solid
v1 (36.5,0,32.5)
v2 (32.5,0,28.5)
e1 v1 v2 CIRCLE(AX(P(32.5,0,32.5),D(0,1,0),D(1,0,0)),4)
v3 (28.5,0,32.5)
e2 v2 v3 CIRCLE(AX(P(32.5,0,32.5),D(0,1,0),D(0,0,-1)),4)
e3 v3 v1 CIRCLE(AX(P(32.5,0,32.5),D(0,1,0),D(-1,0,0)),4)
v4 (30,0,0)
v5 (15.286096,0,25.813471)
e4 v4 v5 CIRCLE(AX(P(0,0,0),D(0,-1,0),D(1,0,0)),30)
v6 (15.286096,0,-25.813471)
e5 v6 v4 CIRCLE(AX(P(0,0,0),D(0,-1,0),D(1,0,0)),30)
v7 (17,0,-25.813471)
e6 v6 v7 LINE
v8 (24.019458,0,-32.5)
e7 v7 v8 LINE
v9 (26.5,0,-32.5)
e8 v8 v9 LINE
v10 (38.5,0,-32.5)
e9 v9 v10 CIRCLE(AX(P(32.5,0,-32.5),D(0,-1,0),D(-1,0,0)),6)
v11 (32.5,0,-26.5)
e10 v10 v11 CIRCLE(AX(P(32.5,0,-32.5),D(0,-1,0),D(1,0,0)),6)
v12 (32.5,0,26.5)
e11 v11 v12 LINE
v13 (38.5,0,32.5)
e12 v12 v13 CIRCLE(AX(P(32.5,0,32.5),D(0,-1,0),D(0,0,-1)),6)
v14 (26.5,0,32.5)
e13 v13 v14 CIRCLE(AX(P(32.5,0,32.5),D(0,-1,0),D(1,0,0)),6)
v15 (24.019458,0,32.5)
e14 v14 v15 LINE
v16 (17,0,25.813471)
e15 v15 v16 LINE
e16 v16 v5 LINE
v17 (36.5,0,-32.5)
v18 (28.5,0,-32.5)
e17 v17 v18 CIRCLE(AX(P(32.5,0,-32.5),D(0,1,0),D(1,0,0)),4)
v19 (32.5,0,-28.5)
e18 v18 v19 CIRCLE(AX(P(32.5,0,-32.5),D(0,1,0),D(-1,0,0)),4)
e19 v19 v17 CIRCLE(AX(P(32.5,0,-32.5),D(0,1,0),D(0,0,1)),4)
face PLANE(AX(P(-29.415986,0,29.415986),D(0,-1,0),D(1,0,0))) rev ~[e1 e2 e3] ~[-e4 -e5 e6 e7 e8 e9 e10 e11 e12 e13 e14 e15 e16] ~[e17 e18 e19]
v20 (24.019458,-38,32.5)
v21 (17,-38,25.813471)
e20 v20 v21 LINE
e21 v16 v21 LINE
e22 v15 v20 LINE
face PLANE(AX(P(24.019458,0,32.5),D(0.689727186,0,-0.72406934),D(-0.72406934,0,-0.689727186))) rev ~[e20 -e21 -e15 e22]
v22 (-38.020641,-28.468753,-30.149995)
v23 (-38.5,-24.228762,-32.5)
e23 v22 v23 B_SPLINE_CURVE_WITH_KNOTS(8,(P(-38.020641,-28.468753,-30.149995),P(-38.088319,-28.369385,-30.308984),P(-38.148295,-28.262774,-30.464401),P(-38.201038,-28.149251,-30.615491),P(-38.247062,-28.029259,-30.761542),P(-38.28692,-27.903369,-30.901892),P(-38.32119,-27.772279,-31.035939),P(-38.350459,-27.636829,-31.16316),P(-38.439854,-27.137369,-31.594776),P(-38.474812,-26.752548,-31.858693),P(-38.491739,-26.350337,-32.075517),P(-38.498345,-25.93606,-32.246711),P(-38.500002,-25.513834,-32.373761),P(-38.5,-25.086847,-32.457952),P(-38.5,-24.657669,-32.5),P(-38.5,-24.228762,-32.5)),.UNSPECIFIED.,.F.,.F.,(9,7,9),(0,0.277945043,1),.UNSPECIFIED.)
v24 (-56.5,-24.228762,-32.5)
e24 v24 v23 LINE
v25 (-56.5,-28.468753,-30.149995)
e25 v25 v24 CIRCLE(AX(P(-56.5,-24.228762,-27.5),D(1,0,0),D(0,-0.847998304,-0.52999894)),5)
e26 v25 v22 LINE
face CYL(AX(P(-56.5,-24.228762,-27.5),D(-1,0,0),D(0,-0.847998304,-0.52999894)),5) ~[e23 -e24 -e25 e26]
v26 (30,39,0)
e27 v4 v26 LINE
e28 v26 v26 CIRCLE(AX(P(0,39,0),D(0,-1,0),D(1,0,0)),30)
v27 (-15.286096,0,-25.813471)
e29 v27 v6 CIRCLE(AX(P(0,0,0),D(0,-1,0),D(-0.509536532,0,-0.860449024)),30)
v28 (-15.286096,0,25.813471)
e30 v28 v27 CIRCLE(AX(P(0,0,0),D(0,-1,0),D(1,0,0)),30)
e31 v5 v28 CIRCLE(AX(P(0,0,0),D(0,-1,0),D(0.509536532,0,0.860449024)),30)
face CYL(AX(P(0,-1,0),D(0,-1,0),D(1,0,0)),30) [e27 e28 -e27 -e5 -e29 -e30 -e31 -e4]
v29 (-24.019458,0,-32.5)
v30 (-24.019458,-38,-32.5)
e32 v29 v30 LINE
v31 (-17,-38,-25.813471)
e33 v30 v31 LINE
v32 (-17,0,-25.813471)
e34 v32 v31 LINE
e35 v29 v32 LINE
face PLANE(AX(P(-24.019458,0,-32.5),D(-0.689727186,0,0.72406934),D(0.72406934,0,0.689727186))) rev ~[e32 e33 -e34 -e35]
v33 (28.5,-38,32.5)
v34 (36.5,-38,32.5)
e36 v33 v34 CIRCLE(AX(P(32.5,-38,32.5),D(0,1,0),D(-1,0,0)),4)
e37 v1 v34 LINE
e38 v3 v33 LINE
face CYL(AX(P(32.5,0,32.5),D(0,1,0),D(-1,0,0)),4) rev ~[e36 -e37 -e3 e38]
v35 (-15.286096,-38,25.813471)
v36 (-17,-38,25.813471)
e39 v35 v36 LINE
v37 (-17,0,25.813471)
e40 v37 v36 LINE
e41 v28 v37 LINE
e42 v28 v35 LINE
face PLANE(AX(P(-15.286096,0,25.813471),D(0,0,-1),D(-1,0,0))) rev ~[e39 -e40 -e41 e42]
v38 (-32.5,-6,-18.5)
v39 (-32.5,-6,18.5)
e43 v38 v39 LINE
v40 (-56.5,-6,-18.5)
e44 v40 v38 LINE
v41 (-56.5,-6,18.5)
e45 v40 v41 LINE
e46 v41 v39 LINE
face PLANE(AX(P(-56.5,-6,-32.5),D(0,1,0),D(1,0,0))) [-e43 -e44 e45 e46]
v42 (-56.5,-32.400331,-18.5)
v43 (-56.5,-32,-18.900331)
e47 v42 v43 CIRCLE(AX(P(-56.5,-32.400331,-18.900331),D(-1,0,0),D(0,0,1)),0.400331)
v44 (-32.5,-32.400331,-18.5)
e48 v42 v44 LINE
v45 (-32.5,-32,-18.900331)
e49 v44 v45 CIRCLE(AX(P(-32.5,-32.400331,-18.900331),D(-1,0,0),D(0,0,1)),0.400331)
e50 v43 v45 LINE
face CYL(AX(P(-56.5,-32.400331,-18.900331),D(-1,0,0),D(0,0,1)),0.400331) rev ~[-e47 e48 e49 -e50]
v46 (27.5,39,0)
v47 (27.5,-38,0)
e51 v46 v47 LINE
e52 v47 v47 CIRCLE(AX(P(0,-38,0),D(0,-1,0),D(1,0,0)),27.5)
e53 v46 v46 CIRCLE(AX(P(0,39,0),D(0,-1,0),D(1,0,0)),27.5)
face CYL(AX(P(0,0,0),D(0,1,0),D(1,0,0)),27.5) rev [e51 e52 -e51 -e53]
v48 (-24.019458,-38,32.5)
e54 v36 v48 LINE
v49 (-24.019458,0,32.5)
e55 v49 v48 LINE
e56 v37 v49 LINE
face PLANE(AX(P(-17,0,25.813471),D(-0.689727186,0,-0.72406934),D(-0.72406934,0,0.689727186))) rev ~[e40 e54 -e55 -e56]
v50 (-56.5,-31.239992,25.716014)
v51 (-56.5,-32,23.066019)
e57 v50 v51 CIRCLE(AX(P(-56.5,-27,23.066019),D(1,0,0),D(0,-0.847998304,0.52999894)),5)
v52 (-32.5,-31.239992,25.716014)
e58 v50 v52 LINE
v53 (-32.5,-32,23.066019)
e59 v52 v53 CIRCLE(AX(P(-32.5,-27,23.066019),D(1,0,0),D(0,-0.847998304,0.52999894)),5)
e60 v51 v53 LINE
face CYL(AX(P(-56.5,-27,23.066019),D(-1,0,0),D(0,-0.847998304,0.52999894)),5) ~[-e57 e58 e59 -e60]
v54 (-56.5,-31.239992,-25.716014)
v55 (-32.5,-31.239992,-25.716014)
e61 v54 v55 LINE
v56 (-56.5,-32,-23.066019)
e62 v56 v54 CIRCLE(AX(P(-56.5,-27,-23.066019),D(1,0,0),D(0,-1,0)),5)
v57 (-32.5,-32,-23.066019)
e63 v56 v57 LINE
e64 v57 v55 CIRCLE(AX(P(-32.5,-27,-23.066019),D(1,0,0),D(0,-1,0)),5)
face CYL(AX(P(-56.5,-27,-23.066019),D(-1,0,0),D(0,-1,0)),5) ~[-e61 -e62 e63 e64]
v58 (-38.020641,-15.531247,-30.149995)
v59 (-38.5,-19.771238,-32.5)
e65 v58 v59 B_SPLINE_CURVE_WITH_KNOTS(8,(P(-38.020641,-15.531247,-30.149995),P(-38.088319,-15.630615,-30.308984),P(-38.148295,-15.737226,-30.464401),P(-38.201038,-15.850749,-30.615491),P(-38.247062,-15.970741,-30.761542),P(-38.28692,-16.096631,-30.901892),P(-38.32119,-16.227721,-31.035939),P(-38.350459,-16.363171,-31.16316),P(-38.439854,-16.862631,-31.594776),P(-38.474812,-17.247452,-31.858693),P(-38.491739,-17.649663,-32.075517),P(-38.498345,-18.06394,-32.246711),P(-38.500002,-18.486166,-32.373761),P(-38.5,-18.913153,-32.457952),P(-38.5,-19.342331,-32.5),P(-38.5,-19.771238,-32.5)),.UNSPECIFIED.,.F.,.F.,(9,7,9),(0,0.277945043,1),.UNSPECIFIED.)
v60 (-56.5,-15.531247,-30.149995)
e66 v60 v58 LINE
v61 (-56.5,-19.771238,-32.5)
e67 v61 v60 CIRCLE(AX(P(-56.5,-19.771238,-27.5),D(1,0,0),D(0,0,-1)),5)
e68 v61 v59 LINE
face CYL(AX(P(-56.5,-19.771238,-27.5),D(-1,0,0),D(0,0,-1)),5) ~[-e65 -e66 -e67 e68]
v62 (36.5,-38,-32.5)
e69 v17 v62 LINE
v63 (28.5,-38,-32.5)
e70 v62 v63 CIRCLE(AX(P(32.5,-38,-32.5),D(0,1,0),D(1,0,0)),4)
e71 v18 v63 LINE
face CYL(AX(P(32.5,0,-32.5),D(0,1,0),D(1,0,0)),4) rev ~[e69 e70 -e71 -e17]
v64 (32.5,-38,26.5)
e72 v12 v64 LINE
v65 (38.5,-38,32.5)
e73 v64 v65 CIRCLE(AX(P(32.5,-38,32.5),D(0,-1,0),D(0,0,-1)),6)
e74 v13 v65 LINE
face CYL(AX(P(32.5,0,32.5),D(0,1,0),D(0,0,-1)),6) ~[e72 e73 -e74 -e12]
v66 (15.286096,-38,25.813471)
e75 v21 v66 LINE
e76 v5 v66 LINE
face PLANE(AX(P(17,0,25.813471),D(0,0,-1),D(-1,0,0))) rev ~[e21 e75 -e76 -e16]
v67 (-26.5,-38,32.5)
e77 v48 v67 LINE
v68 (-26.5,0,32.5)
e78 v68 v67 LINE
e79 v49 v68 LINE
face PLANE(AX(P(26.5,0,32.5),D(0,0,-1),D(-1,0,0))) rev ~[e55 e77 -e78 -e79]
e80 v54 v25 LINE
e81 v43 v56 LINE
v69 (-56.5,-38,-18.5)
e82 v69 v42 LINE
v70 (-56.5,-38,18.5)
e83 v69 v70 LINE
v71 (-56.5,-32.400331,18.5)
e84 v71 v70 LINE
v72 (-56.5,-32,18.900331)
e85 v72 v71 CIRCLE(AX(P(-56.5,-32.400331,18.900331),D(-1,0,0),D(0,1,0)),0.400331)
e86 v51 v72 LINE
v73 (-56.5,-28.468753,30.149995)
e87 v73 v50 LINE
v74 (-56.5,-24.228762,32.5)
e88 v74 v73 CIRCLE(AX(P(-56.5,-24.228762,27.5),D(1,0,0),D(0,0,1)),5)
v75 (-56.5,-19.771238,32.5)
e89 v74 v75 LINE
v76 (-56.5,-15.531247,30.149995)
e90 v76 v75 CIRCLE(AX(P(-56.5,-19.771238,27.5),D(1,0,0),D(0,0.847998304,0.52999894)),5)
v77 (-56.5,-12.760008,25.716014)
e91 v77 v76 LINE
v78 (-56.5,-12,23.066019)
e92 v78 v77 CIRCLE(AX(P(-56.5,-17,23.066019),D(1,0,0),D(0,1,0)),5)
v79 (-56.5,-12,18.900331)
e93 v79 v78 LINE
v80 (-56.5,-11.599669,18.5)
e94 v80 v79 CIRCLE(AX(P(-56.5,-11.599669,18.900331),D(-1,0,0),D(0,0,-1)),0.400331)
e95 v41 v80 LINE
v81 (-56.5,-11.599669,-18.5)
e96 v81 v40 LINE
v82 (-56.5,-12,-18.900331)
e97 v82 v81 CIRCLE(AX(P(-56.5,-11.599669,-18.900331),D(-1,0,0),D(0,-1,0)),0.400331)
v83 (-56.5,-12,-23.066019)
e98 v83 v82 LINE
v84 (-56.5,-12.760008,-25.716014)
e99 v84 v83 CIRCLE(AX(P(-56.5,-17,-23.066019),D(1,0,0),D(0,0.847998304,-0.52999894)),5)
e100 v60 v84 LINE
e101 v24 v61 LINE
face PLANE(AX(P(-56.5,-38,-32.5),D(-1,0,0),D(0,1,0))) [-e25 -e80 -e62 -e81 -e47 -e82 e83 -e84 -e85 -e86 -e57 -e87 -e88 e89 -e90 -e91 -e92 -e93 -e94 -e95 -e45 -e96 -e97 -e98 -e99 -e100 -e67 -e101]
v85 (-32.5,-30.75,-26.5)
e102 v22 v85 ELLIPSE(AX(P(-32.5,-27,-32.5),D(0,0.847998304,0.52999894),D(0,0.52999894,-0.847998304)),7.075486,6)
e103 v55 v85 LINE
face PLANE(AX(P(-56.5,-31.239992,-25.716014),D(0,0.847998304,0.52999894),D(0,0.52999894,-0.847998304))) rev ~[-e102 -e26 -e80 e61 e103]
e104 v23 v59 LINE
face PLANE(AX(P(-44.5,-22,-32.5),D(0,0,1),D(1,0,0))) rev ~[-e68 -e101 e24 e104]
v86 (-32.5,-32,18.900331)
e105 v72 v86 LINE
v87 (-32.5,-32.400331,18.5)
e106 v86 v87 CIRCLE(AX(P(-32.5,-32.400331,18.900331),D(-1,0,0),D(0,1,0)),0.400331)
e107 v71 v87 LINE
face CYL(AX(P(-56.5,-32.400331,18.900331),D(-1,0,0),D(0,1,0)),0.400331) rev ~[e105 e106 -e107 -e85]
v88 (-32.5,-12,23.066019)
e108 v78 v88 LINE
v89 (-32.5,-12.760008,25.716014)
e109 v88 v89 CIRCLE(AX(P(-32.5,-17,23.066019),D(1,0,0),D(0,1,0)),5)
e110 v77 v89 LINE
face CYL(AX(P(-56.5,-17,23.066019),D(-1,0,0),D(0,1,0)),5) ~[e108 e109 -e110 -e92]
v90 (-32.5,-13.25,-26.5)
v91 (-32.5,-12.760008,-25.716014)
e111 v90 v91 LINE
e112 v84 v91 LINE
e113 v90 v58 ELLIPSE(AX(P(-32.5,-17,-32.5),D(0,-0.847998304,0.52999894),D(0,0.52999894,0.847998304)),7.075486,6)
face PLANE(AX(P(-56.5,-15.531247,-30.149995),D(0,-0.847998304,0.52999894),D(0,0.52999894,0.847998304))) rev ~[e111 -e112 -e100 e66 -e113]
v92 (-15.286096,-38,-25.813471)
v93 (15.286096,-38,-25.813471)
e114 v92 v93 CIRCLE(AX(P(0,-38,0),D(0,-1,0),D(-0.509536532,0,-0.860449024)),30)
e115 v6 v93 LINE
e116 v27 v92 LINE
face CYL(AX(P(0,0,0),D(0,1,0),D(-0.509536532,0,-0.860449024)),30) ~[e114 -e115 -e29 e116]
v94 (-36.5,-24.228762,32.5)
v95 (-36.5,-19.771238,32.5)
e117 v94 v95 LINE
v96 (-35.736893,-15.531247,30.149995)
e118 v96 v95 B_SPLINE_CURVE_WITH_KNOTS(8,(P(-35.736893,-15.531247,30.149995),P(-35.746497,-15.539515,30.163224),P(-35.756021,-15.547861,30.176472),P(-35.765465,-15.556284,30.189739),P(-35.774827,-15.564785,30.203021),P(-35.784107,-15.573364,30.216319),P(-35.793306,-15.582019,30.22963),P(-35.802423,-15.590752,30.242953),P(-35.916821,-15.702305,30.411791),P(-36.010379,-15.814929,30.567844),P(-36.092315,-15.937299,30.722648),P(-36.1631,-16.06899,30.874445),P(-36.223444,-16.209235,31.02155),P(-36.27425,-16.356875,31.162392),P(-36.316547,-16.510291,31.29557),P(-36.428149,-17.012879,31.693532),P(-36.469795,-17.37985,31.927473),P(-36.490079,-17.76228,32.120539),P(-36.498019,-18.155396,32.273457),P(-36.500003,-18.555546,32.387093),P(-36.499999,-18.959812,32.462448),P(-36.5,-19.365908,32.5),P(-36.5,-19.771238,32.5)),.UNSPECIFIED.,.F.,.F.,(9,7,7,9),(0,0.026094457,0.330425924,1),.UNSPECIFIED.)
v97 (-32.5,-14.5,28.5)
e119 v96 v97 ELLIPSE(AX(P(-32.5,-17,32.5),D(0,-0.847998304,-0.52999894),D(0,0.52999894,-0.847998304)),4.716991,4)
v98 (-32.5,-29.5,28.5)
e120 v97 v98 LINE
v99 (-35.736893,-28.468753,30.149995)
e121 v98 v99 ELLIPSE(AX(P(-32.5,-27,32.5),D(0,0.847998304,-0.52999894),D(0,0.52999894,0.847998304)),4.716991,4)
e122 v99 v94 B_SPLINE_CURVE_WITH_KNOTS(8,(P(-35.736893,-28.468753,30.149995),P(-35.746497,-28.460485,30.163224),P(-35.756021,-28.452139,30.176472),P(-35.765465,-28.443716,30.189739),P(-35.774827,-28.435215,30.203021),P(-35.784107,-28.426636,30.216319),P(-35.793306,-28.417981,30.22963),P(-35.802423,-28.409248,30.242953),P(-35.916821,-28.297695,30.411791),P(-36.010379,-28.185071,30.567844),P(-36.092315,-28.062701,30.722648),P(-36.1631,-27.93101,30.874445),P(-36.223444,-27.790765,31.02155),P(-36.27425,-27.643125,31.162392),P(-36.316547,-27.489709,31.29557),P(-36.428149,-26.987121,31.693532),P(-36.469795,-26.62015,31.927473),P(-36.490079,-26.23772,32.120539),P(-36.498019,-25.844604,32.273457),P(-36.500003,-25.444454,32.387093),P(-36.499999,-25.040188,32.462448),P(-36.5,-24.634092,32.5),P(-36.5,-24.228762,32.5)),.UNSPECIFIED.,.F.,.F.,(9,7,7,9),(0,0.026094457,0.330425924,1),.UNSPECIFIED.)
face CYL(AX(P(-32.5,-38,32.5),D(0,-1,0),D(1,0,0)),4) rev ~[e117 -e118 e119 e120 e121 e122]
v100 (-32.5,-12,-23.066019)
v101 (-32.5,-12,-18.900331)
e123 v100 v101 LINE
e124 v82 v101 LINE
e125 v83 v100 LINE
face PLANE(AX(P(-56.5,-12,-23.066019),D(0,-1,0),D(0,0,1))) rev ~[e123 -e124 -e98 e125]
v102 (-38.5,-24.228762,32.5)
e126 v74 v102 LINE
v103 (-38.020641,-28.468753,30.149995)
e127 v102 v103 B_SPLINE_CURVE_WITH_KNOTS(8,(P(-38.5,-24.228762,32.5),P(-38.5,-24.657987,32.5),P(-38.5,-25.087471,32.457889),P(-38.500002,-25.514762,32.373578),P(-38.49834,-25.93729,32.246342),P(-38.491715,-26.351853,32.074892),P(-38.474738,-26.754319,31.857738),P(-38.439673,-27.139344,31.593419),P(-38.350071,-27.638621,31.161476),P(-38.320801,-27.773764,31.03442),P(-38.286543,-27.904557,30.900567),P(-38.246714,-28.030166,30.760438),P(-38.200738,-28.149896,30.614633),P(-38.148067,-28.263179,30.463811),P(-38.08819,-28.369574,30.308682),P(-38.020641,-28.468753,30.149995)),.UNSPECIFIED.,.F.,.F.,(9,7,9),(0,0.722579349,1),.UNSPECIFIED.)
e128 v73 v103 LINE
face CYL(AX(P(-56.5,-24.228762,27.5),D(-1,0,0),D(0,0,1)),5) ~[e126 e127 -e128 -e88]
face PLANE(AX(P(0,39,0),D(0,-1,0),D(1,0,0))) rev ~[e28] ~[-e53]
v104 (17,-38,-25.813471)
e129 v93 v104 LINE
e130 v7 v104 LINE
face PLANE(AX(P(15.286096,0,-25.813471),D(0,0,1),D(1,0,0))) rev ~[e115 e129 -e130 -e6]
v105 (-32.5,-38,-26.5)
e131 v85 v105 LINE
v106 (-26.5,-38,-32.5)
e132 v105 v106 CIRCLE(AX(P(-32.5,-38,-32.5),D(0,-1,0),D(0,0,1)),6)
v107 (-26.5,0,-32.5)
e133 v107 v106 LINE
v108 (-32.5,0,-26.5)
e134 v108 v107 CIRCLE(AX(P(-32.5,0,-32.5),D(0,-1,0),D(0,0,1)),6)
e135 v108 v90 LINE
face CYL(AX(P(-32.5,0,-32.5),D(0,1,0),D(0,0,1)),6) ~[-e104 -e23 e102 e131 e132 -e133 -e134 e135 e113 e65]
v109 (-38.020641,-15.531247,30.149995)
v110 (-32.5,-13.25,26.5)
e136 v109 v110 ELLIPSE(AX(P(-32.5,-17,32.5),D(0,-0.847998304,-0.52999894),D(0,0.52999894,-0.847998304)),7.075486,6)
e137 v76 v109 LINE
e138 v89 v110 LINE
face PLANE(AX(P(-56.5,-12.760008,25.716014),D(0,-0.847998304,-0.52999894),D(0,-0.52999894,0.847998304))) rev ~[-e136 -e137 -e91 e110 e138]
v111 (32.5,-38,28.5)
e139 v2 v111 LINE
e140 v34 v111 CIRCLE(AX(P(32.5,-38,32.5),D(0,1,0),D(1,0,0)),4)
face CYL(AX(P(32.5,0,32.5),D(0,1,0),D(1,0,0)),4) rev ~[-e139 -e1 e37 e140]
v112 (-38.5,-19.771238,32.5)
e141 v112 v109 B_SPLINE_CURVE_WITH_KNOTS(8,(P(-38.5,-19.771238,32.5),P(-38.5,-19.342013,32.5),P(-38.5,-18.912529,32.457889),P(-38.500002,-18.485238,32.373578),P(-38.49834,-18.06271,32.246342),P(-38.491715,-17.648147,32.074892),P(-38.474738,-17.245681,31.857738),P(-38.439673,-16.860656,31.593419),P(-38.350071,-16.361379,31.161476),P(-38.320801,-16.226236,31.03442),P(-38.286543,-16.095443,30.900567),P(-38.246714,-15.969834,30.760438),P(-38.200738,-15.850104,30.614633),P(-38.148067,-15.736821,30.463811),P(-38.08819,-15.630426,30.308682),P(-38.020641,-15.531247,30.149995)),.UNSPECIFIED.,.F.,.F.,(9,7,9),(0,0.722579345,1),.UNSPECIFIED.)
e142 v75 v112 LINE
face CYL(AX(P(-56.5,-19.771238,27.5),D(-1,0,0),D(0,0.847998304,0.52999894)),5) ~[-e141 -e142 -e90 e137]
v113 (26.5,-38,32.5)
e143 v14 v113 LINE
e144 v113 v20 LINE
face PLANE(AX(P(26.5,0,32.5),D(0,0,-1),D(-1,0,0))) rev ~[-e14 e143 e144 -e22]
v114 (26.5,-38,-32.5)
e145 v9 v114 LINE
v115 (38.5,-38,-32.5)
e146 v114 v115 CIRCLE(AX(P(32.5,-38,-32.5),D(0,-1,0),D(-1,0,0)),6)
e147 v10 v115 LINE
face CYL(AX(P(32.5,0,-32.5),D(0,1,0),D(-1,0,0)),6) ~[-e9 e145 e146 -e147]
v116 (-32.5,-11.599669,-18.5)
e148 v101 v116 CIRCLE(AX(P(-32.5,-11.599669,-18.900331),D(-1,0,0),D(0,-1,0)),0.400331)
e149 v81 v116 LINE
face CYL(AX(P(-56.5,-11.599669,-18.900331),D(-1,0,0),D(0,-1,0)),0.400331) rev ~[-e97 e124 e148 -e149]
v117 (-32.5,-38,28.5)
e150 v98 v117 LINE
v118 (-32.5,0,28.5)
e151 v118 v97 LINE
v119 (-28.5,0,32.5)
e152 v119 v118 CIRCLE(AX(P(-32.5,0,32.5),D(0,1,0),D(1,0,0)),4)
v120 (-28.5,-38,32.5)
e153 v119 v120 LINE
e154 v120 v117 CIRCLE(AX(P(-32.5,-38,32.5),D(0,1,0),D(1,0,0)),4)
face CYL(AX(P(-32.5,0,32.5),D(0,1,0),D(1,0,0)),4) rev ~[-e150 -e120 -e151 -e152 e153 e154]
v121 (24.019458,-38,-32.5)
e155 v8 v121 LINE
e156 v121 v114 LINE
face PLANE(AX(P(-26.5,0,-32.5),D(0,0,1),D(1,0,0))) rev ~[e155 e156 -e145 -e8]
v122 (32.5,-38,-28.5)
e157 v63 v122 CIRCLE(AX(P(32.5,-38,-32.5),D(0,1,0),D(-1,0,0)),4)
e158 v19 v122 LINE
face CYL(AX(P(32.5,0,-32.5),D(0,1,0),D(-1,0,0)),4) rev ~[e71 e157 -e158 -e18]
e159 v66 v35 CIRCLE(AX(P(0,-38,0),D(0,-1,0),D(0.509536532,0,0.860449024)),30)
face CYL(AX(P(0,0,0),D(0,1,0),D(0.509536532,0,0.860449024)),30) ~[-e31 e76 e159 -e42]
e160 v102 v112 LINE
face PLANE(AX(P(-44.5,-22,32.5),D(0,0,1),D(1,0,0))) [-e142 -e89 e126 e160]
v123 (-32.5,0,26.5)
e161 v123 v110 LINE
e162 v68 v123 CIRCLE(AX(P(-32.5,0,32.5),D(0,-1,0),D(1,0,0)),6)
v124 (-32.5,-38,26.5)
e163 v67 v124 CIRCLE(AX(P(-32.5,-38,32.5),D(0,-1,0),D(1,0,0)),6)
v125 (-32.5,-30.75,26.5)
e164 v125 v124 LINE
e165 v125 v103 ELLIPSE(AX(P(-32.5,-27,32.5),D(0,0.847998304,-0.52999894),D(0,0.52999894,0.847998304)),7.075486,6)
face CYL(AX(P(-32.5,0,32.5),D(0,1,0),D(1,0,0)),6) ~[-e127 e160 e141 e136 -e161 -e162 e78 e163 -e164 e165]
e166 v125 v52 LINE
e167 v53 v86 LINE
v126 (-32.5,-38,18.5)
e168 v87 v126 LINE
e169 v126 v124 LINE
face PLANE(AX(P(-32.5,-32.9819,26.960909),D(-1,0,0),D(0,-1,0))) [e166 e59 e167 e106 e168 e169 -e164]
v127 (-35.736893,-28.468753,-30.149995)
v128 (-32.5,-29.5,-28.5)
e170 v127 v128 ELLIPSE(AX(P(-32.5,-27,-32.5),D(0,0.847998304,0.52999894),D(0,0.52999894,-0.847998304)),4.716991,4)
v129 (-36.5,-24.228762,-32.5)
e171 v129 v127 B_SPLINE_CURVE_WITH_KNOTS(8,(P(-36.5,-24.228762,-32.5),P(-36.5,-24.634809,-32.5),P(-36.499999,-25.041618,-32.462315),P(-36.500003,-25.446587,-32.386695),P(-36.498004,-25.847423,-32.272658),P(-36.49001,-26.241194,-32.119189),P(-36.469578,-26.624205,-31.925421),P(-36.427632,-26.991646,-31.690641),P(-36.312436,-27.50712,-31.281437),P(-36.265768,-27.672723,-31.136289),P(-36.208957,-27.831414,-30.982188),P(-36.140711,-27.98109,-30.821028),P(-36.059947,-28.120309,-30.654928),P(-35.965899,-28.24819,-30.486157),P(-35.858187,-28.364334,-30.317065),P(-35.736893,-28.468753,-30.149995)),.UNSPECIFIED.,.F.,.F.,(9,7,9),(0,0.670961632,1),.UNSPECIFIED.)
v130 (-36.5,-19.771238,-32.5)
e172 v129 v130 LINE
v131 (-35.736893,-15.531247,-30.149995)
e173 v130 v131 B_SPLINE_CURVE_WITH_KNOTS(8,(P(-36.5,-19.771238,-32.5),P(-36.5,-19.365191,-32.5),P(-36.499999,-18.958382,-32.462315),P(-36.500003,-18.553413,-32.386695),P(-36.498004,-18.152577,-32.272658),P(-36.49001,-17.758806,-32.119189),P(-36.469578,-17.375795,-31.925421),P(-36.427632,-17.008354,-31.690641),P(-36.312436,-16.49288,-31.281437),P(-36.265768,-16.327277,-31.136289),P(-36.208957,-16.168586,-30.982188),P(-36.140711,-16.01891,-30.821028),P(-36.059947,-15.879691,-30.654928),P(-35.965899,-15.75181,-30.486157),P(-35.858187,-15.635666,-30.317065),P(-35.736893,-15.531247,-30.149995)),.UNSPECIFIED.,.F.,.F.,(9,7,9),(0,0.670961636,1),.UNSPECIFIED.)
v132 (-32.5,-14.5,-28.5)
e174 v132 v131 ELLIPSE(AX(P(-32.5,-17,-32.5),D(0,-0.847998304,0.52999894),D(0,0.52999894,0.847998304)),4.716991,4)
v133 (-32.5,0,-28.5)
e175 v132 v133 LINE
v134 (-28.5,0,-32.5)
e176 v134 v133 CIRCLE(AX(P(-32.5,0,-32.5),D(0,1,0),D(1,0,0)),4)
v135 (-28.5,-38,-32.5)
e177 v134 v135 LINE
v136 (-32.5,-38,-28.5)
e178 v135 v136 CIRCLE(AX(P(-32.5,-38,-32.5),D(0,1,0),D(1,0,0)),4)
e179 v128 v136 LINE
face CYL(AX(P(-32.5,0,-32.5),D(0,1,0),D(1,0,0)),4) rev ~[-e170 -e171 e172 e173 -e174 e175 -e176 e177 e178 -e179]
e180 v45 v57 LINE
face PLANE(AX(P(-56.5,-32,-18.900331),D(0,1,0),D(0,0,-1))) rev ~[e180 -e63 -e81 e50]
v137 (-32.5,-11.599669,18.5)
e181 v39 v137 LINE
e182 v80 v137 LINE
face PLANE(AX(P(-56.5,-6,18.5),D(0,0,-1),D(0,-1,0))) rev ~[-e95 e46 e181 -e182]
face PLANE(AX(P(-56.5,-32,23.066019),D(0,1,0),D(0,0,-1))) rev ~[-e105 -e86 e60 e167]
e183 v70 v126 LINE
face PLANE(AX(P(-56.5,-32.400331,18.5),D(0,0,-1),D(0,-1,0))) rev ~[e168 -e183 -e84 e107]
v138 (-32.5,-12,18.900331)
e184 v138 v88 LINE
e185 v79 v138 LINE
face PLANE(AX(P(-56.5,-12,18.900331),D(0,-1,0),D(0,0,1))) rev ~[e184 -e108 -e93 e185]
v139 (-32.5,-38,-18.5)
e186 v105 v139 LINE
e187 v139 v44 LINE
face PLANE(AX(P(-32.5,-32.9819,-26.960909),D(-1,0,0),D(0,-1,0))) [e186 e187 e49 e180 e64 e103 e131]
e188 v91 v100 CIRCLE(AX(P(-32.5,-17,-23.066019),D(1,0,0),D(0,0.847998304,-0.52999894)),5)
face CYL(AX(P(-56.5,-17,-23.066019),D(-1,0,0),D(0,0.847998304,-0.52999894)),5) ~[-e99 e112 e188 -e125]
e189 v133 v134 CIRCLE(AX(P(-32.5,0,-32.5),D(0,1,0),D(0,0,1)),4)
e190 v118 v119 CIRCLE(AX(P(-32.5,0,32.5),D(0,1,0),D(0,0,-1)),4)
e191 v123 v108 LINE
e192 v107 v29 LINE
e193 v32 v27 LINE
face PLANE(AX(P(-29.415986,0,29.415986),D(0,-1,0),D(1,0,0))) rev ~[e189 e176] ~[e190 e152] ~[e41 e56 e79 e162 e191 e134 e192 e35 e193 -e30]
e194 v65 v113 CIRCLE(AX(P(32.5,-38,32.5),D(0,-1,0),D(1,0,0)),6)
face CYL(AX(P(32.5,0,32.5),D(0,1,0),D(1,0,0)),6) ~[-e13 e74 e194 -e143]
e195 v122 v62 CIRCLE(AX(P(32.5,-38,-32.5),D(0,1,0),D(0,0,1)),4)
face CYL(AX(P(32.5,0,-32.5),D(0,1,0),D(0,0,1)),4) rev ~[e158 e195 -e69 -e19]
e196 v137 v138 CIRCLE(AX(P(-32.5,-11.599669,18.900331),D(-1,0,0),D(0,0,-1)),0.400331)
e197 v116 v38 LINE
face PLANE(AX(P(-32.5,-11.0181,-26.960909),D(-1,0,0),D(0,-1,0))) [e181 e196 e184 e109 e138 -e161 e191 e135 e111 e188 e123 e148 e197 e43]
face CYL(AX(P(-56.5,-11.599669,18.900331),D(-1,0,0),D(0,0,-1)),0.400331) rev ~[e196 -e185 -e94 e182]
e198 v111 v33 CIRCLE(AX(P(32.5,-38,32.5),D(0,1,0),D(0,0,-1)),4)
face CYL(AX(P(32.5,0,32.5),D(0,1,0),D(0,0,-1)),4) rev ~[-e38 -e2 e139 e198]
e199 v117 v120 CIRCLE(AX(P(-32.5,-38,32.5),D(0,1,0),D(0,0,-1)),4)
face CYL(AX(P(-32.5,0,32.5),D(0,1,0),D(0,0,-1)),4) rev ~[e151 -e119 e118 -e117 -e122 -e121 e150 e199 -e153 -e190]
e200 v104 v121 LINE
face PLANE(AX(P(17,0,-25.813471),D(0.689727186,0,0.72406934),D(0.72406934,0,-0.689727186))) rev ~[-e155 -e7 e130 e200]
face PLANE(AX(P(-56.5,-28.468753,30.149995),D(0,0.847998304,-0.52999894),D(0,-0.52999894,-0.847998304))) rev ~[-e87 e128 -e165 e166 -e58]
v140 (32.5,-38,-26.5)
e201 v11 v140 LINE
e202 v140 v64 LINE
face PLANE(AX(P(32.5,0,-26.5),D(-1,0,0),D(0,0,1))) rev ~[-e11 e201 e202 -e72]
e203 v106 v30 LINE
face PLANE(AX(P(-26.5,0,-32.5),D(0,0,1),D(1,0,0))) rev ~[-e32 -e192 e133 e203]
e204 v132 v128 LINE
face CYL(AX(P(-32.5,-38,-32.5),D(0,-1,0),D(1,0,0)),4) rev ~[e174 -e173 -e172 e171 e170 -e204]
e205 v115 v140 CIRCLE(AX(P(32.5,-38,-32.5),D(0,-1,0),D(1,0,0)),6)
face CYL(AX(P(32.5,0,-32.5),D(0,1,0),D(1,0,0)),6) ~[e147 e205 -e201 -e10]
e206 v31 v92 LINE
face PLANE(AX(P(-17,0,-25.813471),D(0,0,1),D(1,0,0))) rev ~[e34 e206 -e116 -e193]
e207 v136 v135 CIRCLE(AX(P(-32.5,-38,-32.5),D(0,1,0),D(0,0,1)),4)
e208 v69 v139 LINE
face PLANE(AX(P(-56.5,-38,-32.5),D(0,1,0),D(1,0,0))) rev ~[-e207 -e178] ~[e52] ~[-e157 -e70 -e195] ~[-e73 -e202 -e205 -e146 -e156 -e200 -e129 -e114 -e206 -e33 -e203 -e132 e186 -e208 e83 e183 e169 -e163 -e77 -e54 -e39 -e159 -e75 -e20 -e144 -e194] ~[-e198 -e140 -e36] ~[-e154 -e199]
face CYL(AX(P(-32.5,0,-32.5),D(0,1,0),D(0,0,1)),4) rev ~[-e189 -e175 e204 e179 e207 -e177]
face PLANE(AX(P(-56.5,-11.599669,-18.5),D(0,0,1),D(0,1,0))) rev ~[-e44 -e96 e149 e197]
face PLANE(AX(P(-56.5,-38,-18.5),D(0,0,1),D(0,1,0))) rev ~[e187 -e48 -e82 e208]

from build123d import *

# Parameters (mm, degrees)
F0_R      = 30
F0_R_2    = 27.5
F1_DEPTH  = 38
F3_R      = 30
F3_R_2    = 27.5
F4_DEPTH  = 40
F6_W      = 24
F6_H      = 32
F7_DEPTH  = 65
F9_DEPTH  = 24
F10_DEPTH = 38
F12_DEPTH = 38
F13_R     = 4
F14_DEPTH = 38


with BuildPart() as f1:
    # F0 (on Front) → F1 (new body)
    with BuildSketch(Plane.XZ):
        with BuildLine():
            ThreePointArc((-32.5, 26.5), (-28.2573593129, 28.2573593129), (-26.5, 32.5))
            Line((-26.5, 32.5), (-28.5, 32.5))
            ThreePointArc((-28.5, 32.5), (-29.6715728753, 29.6715728753), (-32.5, 28.5))
            Line((-32.5, 28.5), (-32.5, 26.5))
        make_face()
        with BuildLine():
            Line((-28.5, 32.5), (-26.5, 32.5))
            ThreePointArc((-26.5, 32.5), (-36.7426406871, 36.7426406871), (-32.5, 26.5))
            Line((-32.5, 26.5), (-32.5, 28.5))
            ThreePointArc((-32.5, 28.5), (-35.3284271247, 35.3284271247), (-28.5, 32.5))
        make_face()
        with BuildLine():
            Line((26.5, 32.5), (-26.5, 32.5))
            ThreePointArc((-26.5, 32.5), (-28.2573593129, 28.2573593129), (-32.5, 26.5))
            Line((-32.5, 26.5), (-32.5, -26.5))
            ThreePointArc((-32.5, -26.5), (-28.2573593129, -28.2573593129), (-26.5, -32.5))
            Line((-26.5, -32.5), (26.5, -32.5))
            ThreePointArc((26.5, -32.5), (28.2573593129, -28.2573593129), (32.5, -26.5))
            Line((32.5, -26.5), (32.5, 26.5))
            ThreePointArc((32.5, 26.5), (28.2573593129, 28.2573593129), (26.5, 32.5))
        make_face()
        Circle(F0_R, mode=Mode.SUBTRACT)
        with BuildLine():
            ThreePointArc((38.5, 32.5), (32.5, 38.5), (26.5, 32.5))
            Line((26.5, 32.5), (28.5, 32.5))
            ThreePointArc((28.5, 32.5), (32.5, 36.5), (36.5, 32.5))
            ThreePointArc((36.5, 32.5), (35.3284271247, 29.6715728753), (32.5, 28.5))
            Line((32.5, 28.5), (32.5, 26.5))
            ThreePointArc((32.5, 26.5), (36.7426406871, 28.2573593129), (38.5, 32.5))
        make_face()
        with BuildLine():
            Line((28.5, 32.5), (26.5, 32.5))
            ThreePointArc((26.5, 32.5), (28.2573593129, 28.2573593129), (32.5, 26.5))
            Line((32.5, 26.5), (32.5, 28.5))
            ThreePointArc((32.5, 28.5), (29.6715728753, 29.6715728753), (28.5, 32.5))
        make_face()
        with BuildLine():
            ThreePointArc((-26.5, -32.5), (-28.2573593129, -28.2573593129), (-32.5, -26.5))
            Line((-32.5, -26.5), (-32.5, -28.5))
            ThreePointArc((-32.5, -28.5), (-29.6715728753, -29.6715728753), (-28.5, -32.5))
            Line((-28.5, -32.5), (-26.5, -32.5))
        make_face()
        with BuildLine():
            Line((-32.5, -28.5), (-32.5, -26.5))
            ThreePointArc((-32.5, -26.5), (-36.7426406871, -36.7426406871), (-26.5, -32.5))
            Line((-26.5, -32.5), (-28.5, -32.5))
            ThreePointArc((-28.5, -32.5), (-35.3284271247, -35.3284271247), (-32.5, -28.5))
        make_face()
        with BuildLine():
            ThreePointArc((38.5, -32.5), (36.7426406871, -28.2573593129), (32.5, -26.5))
            Line((32.5, -26.5), (32.5, -28.5))
            ThreePointArc((32.5, -28.5), (35.3284271247, -29.6715728753), (36.5, -32.5))
            ThreePointArc((36.5, -32.5), (32.5, -36.5), (28.5, -32.5))
            Line((28.5, -32.5), (26.5, -32.5))
            ThreePointArc((26.5, -32.5), (32.5, -38.5), (38.5, -32.5))
        make_face()
        with BuildLine():
            Line((32.5, -28.5), (32.5, -26.5))
            ThreePointArc((32.5, -26.5), (28.2573593129, -28.2573593129), (26.5, -32.5))
            Line((26.5, -32.5), (28.5, -32.5))
            ThreePointArc((28.5, -32.5), (29.6715728753, -29.6715728753), (32.5, -28.5))
        make_face()
        Circle(F0_R)
        Circle(F0_R_2, mode=Mode.SUBTRACT)
    extrude(amount=F1_DEPTH)

    # F3 (on offset) → F4 (join)
    with BuildSketch(Plane.XZ.offset(1)):
        Circle(F3_R)
        Circle(F3_R_2, mode=Mode.SUBTRACT)
    extrude(amount=-F4_DEPTH)

    # F6 (on offset) → F7 (join)
    with BuildSketch(Plane.XY.offset(-32.5)):
        with Locations((-44.5, -22)):
            Rectangle(F6_W, F6_H)
    extrude(amount=F7_DEPTH)

    # F8 (on face) → F9 (cut)
    with BuildSketch(Plane(origin=(-56.5, 0, 0), x_dir=(0, -1, 0), z_dir=(-1, 0, 0))):
        with BuildLine():
            Line((11.5996693186, -18.5), (6, -18.5))
            Line((6, -18.5), (6, -32.5))
            Line((6, -32.5), (19.7712382075, -32.5))
            ThreePointArc((19.7712382075, -32.5), (17.3473955456, -31.8732124062), (15.5312466875, -30.1499947))
            Line((15.5312466875, -30.1499947), (12.76000848, -25.716013568))
            ThreePointArc((12.76000848, -25.716013568), (12.1937562692, -24.4444314332), (12, -23.0660188679))
            Line((12, -23.0660188679), (12, -18.9003306814))
            ThreePointArc((12, -18.9003306814), (11.8827458581, -18.6172541419), (11.5996693186, -18.5))
        make_face()
        with BuildLine():
            ThreePointArc((28.4687533125, -30.1499947), (26.6526044544, -31.8732124062), (24.2287617925, -32.5))
            Line((24.2287617925, -32.5), (38, -32.5))
            Line((38, -32.5), (38, -18.5))
            Line((38, -18.5), (32.4003306814, -18.5))
            ThreePointArc((32.4003306814, -18.5), (32.1172541419, -18.6172541419), (32, -18.9003306814))
            Line((32, -18.9003306814), (32, -23.0660188679))
            ThreePointArc((32, -23.0660188679), (31.8062437308, -24.4444314332), (31.23999152, -25.716013568))
            Line((31.23999152, -25.716013568), (28.4687533125, -30.1499947))
        make_face()
        with BuildLine():
            Line((19.7712382075, 32.5), (6, 32.5))
            Line((6, 32.5), (6, 18.5))
            Line((6, 18.5), (11.5996693186, 18.5))
            ThreePointArc((11.5996693186, 18.5), (11.8827458581, 18.6172541419), (12, 18.9003306814))
            Line((12, 18.9003306814), (12, 23.0660188679))
            ThreePointArc((12, 23.0660188679), (12.1937562692, 24.4444314332), (12.76000848, 25.716013568))
            Line((12.76000848, 25.716013568), (15.5312466875, 30.1499947))
            ThreePointArc((15.5312466875, 30.1499947), (17.3473955456, 31.8732124062), (19.7712382075, 32.5))
        make_face()
        with BuildLine():
            Line((38, 32.5), (24.2287617925, 32.5))
            ThreePointArc((24.2287617925, 32.5), (26.6526044544, 31.8732124062), (28.4687533125, 30.1499947))
            Line((28.4687533125, 30.1499947), (31.23999152, 25.716013568))
            ThreePointArc((31.23999152, 25.716013568), (31.8062437308, 24.4444314332), (32, 23.0660188679))
            Line((32, 23.0660188679), (32, 18.9003306814))
            ThreePointArc((32, 18.9003306814), (32.1172541419, 18.6172541419), (32.4003306814, 18.5))
            Line((32.4003306814, 18.5), (38, 18.5))
            Line((38, 18.5), (38, 32.5))
        make_face()
    extrude(amount=-F9_DEPTH, mode=Mode.SUBTRACT)

    # F0 (on Front) → F10 (join)
    with BuildSketch(Plane.XZ):
        with BuildLine():
            ThreePointArc((38.5, 32.5), (32.5, 38.5), (26.5, 32.5))
            Line((26.5, 32.5), (28.5, 32.5))
            ThreePointArc((28.5, 32.5), (32.5, 36.5), (36.5, 32.5))
            ThreePointArc((36.5, 32.5), (35.3284271247, 29.6715728753), (32.5, 28.5))
            Line((32.5, 28.5), (32.5, 26.5))
            ThreePointArc((32.5, 26.5), (36.7426406871, 28.2573593129), (38.5, 32.5))
        make_face()
        with BuildLine():
            Line((-28.5, 32.5), (-26.5, 32.5))
            ThreePointArc((-26.5, 32.5), (-36.7426406871, 36.7426406871), (-32.5, 26.5))
            Line((-32.5, 26.5), (-32.5, 28.5))
            ThreePointArc((-32.5, 28.5), (-35.3284271247, 35.3284271247), (-28.5, 32.5))
        make_face()
        with BuildLine():
            ThreePointArc((38.5, -32.5), (36.7426406871, -28.2573593129), (32.5, -26.5))
            Line((32.5, -26.5), (32.5, -28.5))
            ThreePointArc((32.5, -28.5), (35.3284271247, -29.6715728753), (36.5, -32.5))
            ThreePointArc((36.5, -32.5), (32.5, -36.5), (28.5, -32.5))
            Line((28.5, -32.5), (26.5, -32.5))
            ThreePointArc((26.5, -32.5), (32.5, -38.5), (38.5, -32.5))
        make_face()
        with BuildLine():
            Line((-32.5, -28.5), (-32.5, -26.5))
            ThreePointArc((-32.5, -26.5), (-36.7426406871, -36.7426406871), (-26.5, -32.5))
            Line((-26.5, -32.5), (-28.5, -32.5))
            ThreePointArc((-28.5, -32.5), (-35.3284271247, -35.3284271247), (-32.5, -28.5))
        make_face()
    extrude(amount=F10_DEPTH)

    # F11 (on face) → F12 (cut)
    with BuildSketch(Plane(origin=(0, 0, 0), x_dir=(-1, 0, 0), z_dir=(0, 1, 0))):
        with BuildLine():
            Line((24.019457768, 32.5), (-24.019457768, 32.5))
            Line((-24.019457768, 32.5), (-17, 25.8134707125))
            Line((-17, 25.8134707125), (-15.2860959625, 25.8134707125))
            ThreePointArc((-15.2860959625, 25.8134707125), (0, 30), (15.2860959625, 25.8134707125))
            Line((15.2860959625, 25.8134707125), (17, 25.8134707125))
            Line((17, 25.8134707125), (24.019457768, 32.5))
        make_face()
        with BuildLine():
            Line((-17, -25.8134707125), (-24.019457768, -32.5))
            Line((-24.019457768, -32.5), (24.019457768, -32.5))
            Line((24.019457768, -32.5), (17, -25.8134707125))
            Line((17, -25.8134707125), (15.2860959625, -25.8134707125))
            ThreePointArc((15.2860959625, -25.8134707125), (0, -30), (-15.2860959625, -25.8134707125))
            Line((-15.2860959625, -25.8134707125), (-17, -25.8134707125))
        make_face()
    extrude(amount=-F12_DEPTH, mode=Mode.SUBTRACT)

    # F13 (on face) → F14 (cut)
    with BuildSketch(Plane.XZ.offset(38)):
        with Locations((-32.5, 32.5)):
            Circle(F13_R)
        with Locations((-32.5, -32.5)):
            Circle(F13_R)
    extrude(amount=-F14_DEPTH, mode=Mode.SUBTRACT)


solid = f1.part
